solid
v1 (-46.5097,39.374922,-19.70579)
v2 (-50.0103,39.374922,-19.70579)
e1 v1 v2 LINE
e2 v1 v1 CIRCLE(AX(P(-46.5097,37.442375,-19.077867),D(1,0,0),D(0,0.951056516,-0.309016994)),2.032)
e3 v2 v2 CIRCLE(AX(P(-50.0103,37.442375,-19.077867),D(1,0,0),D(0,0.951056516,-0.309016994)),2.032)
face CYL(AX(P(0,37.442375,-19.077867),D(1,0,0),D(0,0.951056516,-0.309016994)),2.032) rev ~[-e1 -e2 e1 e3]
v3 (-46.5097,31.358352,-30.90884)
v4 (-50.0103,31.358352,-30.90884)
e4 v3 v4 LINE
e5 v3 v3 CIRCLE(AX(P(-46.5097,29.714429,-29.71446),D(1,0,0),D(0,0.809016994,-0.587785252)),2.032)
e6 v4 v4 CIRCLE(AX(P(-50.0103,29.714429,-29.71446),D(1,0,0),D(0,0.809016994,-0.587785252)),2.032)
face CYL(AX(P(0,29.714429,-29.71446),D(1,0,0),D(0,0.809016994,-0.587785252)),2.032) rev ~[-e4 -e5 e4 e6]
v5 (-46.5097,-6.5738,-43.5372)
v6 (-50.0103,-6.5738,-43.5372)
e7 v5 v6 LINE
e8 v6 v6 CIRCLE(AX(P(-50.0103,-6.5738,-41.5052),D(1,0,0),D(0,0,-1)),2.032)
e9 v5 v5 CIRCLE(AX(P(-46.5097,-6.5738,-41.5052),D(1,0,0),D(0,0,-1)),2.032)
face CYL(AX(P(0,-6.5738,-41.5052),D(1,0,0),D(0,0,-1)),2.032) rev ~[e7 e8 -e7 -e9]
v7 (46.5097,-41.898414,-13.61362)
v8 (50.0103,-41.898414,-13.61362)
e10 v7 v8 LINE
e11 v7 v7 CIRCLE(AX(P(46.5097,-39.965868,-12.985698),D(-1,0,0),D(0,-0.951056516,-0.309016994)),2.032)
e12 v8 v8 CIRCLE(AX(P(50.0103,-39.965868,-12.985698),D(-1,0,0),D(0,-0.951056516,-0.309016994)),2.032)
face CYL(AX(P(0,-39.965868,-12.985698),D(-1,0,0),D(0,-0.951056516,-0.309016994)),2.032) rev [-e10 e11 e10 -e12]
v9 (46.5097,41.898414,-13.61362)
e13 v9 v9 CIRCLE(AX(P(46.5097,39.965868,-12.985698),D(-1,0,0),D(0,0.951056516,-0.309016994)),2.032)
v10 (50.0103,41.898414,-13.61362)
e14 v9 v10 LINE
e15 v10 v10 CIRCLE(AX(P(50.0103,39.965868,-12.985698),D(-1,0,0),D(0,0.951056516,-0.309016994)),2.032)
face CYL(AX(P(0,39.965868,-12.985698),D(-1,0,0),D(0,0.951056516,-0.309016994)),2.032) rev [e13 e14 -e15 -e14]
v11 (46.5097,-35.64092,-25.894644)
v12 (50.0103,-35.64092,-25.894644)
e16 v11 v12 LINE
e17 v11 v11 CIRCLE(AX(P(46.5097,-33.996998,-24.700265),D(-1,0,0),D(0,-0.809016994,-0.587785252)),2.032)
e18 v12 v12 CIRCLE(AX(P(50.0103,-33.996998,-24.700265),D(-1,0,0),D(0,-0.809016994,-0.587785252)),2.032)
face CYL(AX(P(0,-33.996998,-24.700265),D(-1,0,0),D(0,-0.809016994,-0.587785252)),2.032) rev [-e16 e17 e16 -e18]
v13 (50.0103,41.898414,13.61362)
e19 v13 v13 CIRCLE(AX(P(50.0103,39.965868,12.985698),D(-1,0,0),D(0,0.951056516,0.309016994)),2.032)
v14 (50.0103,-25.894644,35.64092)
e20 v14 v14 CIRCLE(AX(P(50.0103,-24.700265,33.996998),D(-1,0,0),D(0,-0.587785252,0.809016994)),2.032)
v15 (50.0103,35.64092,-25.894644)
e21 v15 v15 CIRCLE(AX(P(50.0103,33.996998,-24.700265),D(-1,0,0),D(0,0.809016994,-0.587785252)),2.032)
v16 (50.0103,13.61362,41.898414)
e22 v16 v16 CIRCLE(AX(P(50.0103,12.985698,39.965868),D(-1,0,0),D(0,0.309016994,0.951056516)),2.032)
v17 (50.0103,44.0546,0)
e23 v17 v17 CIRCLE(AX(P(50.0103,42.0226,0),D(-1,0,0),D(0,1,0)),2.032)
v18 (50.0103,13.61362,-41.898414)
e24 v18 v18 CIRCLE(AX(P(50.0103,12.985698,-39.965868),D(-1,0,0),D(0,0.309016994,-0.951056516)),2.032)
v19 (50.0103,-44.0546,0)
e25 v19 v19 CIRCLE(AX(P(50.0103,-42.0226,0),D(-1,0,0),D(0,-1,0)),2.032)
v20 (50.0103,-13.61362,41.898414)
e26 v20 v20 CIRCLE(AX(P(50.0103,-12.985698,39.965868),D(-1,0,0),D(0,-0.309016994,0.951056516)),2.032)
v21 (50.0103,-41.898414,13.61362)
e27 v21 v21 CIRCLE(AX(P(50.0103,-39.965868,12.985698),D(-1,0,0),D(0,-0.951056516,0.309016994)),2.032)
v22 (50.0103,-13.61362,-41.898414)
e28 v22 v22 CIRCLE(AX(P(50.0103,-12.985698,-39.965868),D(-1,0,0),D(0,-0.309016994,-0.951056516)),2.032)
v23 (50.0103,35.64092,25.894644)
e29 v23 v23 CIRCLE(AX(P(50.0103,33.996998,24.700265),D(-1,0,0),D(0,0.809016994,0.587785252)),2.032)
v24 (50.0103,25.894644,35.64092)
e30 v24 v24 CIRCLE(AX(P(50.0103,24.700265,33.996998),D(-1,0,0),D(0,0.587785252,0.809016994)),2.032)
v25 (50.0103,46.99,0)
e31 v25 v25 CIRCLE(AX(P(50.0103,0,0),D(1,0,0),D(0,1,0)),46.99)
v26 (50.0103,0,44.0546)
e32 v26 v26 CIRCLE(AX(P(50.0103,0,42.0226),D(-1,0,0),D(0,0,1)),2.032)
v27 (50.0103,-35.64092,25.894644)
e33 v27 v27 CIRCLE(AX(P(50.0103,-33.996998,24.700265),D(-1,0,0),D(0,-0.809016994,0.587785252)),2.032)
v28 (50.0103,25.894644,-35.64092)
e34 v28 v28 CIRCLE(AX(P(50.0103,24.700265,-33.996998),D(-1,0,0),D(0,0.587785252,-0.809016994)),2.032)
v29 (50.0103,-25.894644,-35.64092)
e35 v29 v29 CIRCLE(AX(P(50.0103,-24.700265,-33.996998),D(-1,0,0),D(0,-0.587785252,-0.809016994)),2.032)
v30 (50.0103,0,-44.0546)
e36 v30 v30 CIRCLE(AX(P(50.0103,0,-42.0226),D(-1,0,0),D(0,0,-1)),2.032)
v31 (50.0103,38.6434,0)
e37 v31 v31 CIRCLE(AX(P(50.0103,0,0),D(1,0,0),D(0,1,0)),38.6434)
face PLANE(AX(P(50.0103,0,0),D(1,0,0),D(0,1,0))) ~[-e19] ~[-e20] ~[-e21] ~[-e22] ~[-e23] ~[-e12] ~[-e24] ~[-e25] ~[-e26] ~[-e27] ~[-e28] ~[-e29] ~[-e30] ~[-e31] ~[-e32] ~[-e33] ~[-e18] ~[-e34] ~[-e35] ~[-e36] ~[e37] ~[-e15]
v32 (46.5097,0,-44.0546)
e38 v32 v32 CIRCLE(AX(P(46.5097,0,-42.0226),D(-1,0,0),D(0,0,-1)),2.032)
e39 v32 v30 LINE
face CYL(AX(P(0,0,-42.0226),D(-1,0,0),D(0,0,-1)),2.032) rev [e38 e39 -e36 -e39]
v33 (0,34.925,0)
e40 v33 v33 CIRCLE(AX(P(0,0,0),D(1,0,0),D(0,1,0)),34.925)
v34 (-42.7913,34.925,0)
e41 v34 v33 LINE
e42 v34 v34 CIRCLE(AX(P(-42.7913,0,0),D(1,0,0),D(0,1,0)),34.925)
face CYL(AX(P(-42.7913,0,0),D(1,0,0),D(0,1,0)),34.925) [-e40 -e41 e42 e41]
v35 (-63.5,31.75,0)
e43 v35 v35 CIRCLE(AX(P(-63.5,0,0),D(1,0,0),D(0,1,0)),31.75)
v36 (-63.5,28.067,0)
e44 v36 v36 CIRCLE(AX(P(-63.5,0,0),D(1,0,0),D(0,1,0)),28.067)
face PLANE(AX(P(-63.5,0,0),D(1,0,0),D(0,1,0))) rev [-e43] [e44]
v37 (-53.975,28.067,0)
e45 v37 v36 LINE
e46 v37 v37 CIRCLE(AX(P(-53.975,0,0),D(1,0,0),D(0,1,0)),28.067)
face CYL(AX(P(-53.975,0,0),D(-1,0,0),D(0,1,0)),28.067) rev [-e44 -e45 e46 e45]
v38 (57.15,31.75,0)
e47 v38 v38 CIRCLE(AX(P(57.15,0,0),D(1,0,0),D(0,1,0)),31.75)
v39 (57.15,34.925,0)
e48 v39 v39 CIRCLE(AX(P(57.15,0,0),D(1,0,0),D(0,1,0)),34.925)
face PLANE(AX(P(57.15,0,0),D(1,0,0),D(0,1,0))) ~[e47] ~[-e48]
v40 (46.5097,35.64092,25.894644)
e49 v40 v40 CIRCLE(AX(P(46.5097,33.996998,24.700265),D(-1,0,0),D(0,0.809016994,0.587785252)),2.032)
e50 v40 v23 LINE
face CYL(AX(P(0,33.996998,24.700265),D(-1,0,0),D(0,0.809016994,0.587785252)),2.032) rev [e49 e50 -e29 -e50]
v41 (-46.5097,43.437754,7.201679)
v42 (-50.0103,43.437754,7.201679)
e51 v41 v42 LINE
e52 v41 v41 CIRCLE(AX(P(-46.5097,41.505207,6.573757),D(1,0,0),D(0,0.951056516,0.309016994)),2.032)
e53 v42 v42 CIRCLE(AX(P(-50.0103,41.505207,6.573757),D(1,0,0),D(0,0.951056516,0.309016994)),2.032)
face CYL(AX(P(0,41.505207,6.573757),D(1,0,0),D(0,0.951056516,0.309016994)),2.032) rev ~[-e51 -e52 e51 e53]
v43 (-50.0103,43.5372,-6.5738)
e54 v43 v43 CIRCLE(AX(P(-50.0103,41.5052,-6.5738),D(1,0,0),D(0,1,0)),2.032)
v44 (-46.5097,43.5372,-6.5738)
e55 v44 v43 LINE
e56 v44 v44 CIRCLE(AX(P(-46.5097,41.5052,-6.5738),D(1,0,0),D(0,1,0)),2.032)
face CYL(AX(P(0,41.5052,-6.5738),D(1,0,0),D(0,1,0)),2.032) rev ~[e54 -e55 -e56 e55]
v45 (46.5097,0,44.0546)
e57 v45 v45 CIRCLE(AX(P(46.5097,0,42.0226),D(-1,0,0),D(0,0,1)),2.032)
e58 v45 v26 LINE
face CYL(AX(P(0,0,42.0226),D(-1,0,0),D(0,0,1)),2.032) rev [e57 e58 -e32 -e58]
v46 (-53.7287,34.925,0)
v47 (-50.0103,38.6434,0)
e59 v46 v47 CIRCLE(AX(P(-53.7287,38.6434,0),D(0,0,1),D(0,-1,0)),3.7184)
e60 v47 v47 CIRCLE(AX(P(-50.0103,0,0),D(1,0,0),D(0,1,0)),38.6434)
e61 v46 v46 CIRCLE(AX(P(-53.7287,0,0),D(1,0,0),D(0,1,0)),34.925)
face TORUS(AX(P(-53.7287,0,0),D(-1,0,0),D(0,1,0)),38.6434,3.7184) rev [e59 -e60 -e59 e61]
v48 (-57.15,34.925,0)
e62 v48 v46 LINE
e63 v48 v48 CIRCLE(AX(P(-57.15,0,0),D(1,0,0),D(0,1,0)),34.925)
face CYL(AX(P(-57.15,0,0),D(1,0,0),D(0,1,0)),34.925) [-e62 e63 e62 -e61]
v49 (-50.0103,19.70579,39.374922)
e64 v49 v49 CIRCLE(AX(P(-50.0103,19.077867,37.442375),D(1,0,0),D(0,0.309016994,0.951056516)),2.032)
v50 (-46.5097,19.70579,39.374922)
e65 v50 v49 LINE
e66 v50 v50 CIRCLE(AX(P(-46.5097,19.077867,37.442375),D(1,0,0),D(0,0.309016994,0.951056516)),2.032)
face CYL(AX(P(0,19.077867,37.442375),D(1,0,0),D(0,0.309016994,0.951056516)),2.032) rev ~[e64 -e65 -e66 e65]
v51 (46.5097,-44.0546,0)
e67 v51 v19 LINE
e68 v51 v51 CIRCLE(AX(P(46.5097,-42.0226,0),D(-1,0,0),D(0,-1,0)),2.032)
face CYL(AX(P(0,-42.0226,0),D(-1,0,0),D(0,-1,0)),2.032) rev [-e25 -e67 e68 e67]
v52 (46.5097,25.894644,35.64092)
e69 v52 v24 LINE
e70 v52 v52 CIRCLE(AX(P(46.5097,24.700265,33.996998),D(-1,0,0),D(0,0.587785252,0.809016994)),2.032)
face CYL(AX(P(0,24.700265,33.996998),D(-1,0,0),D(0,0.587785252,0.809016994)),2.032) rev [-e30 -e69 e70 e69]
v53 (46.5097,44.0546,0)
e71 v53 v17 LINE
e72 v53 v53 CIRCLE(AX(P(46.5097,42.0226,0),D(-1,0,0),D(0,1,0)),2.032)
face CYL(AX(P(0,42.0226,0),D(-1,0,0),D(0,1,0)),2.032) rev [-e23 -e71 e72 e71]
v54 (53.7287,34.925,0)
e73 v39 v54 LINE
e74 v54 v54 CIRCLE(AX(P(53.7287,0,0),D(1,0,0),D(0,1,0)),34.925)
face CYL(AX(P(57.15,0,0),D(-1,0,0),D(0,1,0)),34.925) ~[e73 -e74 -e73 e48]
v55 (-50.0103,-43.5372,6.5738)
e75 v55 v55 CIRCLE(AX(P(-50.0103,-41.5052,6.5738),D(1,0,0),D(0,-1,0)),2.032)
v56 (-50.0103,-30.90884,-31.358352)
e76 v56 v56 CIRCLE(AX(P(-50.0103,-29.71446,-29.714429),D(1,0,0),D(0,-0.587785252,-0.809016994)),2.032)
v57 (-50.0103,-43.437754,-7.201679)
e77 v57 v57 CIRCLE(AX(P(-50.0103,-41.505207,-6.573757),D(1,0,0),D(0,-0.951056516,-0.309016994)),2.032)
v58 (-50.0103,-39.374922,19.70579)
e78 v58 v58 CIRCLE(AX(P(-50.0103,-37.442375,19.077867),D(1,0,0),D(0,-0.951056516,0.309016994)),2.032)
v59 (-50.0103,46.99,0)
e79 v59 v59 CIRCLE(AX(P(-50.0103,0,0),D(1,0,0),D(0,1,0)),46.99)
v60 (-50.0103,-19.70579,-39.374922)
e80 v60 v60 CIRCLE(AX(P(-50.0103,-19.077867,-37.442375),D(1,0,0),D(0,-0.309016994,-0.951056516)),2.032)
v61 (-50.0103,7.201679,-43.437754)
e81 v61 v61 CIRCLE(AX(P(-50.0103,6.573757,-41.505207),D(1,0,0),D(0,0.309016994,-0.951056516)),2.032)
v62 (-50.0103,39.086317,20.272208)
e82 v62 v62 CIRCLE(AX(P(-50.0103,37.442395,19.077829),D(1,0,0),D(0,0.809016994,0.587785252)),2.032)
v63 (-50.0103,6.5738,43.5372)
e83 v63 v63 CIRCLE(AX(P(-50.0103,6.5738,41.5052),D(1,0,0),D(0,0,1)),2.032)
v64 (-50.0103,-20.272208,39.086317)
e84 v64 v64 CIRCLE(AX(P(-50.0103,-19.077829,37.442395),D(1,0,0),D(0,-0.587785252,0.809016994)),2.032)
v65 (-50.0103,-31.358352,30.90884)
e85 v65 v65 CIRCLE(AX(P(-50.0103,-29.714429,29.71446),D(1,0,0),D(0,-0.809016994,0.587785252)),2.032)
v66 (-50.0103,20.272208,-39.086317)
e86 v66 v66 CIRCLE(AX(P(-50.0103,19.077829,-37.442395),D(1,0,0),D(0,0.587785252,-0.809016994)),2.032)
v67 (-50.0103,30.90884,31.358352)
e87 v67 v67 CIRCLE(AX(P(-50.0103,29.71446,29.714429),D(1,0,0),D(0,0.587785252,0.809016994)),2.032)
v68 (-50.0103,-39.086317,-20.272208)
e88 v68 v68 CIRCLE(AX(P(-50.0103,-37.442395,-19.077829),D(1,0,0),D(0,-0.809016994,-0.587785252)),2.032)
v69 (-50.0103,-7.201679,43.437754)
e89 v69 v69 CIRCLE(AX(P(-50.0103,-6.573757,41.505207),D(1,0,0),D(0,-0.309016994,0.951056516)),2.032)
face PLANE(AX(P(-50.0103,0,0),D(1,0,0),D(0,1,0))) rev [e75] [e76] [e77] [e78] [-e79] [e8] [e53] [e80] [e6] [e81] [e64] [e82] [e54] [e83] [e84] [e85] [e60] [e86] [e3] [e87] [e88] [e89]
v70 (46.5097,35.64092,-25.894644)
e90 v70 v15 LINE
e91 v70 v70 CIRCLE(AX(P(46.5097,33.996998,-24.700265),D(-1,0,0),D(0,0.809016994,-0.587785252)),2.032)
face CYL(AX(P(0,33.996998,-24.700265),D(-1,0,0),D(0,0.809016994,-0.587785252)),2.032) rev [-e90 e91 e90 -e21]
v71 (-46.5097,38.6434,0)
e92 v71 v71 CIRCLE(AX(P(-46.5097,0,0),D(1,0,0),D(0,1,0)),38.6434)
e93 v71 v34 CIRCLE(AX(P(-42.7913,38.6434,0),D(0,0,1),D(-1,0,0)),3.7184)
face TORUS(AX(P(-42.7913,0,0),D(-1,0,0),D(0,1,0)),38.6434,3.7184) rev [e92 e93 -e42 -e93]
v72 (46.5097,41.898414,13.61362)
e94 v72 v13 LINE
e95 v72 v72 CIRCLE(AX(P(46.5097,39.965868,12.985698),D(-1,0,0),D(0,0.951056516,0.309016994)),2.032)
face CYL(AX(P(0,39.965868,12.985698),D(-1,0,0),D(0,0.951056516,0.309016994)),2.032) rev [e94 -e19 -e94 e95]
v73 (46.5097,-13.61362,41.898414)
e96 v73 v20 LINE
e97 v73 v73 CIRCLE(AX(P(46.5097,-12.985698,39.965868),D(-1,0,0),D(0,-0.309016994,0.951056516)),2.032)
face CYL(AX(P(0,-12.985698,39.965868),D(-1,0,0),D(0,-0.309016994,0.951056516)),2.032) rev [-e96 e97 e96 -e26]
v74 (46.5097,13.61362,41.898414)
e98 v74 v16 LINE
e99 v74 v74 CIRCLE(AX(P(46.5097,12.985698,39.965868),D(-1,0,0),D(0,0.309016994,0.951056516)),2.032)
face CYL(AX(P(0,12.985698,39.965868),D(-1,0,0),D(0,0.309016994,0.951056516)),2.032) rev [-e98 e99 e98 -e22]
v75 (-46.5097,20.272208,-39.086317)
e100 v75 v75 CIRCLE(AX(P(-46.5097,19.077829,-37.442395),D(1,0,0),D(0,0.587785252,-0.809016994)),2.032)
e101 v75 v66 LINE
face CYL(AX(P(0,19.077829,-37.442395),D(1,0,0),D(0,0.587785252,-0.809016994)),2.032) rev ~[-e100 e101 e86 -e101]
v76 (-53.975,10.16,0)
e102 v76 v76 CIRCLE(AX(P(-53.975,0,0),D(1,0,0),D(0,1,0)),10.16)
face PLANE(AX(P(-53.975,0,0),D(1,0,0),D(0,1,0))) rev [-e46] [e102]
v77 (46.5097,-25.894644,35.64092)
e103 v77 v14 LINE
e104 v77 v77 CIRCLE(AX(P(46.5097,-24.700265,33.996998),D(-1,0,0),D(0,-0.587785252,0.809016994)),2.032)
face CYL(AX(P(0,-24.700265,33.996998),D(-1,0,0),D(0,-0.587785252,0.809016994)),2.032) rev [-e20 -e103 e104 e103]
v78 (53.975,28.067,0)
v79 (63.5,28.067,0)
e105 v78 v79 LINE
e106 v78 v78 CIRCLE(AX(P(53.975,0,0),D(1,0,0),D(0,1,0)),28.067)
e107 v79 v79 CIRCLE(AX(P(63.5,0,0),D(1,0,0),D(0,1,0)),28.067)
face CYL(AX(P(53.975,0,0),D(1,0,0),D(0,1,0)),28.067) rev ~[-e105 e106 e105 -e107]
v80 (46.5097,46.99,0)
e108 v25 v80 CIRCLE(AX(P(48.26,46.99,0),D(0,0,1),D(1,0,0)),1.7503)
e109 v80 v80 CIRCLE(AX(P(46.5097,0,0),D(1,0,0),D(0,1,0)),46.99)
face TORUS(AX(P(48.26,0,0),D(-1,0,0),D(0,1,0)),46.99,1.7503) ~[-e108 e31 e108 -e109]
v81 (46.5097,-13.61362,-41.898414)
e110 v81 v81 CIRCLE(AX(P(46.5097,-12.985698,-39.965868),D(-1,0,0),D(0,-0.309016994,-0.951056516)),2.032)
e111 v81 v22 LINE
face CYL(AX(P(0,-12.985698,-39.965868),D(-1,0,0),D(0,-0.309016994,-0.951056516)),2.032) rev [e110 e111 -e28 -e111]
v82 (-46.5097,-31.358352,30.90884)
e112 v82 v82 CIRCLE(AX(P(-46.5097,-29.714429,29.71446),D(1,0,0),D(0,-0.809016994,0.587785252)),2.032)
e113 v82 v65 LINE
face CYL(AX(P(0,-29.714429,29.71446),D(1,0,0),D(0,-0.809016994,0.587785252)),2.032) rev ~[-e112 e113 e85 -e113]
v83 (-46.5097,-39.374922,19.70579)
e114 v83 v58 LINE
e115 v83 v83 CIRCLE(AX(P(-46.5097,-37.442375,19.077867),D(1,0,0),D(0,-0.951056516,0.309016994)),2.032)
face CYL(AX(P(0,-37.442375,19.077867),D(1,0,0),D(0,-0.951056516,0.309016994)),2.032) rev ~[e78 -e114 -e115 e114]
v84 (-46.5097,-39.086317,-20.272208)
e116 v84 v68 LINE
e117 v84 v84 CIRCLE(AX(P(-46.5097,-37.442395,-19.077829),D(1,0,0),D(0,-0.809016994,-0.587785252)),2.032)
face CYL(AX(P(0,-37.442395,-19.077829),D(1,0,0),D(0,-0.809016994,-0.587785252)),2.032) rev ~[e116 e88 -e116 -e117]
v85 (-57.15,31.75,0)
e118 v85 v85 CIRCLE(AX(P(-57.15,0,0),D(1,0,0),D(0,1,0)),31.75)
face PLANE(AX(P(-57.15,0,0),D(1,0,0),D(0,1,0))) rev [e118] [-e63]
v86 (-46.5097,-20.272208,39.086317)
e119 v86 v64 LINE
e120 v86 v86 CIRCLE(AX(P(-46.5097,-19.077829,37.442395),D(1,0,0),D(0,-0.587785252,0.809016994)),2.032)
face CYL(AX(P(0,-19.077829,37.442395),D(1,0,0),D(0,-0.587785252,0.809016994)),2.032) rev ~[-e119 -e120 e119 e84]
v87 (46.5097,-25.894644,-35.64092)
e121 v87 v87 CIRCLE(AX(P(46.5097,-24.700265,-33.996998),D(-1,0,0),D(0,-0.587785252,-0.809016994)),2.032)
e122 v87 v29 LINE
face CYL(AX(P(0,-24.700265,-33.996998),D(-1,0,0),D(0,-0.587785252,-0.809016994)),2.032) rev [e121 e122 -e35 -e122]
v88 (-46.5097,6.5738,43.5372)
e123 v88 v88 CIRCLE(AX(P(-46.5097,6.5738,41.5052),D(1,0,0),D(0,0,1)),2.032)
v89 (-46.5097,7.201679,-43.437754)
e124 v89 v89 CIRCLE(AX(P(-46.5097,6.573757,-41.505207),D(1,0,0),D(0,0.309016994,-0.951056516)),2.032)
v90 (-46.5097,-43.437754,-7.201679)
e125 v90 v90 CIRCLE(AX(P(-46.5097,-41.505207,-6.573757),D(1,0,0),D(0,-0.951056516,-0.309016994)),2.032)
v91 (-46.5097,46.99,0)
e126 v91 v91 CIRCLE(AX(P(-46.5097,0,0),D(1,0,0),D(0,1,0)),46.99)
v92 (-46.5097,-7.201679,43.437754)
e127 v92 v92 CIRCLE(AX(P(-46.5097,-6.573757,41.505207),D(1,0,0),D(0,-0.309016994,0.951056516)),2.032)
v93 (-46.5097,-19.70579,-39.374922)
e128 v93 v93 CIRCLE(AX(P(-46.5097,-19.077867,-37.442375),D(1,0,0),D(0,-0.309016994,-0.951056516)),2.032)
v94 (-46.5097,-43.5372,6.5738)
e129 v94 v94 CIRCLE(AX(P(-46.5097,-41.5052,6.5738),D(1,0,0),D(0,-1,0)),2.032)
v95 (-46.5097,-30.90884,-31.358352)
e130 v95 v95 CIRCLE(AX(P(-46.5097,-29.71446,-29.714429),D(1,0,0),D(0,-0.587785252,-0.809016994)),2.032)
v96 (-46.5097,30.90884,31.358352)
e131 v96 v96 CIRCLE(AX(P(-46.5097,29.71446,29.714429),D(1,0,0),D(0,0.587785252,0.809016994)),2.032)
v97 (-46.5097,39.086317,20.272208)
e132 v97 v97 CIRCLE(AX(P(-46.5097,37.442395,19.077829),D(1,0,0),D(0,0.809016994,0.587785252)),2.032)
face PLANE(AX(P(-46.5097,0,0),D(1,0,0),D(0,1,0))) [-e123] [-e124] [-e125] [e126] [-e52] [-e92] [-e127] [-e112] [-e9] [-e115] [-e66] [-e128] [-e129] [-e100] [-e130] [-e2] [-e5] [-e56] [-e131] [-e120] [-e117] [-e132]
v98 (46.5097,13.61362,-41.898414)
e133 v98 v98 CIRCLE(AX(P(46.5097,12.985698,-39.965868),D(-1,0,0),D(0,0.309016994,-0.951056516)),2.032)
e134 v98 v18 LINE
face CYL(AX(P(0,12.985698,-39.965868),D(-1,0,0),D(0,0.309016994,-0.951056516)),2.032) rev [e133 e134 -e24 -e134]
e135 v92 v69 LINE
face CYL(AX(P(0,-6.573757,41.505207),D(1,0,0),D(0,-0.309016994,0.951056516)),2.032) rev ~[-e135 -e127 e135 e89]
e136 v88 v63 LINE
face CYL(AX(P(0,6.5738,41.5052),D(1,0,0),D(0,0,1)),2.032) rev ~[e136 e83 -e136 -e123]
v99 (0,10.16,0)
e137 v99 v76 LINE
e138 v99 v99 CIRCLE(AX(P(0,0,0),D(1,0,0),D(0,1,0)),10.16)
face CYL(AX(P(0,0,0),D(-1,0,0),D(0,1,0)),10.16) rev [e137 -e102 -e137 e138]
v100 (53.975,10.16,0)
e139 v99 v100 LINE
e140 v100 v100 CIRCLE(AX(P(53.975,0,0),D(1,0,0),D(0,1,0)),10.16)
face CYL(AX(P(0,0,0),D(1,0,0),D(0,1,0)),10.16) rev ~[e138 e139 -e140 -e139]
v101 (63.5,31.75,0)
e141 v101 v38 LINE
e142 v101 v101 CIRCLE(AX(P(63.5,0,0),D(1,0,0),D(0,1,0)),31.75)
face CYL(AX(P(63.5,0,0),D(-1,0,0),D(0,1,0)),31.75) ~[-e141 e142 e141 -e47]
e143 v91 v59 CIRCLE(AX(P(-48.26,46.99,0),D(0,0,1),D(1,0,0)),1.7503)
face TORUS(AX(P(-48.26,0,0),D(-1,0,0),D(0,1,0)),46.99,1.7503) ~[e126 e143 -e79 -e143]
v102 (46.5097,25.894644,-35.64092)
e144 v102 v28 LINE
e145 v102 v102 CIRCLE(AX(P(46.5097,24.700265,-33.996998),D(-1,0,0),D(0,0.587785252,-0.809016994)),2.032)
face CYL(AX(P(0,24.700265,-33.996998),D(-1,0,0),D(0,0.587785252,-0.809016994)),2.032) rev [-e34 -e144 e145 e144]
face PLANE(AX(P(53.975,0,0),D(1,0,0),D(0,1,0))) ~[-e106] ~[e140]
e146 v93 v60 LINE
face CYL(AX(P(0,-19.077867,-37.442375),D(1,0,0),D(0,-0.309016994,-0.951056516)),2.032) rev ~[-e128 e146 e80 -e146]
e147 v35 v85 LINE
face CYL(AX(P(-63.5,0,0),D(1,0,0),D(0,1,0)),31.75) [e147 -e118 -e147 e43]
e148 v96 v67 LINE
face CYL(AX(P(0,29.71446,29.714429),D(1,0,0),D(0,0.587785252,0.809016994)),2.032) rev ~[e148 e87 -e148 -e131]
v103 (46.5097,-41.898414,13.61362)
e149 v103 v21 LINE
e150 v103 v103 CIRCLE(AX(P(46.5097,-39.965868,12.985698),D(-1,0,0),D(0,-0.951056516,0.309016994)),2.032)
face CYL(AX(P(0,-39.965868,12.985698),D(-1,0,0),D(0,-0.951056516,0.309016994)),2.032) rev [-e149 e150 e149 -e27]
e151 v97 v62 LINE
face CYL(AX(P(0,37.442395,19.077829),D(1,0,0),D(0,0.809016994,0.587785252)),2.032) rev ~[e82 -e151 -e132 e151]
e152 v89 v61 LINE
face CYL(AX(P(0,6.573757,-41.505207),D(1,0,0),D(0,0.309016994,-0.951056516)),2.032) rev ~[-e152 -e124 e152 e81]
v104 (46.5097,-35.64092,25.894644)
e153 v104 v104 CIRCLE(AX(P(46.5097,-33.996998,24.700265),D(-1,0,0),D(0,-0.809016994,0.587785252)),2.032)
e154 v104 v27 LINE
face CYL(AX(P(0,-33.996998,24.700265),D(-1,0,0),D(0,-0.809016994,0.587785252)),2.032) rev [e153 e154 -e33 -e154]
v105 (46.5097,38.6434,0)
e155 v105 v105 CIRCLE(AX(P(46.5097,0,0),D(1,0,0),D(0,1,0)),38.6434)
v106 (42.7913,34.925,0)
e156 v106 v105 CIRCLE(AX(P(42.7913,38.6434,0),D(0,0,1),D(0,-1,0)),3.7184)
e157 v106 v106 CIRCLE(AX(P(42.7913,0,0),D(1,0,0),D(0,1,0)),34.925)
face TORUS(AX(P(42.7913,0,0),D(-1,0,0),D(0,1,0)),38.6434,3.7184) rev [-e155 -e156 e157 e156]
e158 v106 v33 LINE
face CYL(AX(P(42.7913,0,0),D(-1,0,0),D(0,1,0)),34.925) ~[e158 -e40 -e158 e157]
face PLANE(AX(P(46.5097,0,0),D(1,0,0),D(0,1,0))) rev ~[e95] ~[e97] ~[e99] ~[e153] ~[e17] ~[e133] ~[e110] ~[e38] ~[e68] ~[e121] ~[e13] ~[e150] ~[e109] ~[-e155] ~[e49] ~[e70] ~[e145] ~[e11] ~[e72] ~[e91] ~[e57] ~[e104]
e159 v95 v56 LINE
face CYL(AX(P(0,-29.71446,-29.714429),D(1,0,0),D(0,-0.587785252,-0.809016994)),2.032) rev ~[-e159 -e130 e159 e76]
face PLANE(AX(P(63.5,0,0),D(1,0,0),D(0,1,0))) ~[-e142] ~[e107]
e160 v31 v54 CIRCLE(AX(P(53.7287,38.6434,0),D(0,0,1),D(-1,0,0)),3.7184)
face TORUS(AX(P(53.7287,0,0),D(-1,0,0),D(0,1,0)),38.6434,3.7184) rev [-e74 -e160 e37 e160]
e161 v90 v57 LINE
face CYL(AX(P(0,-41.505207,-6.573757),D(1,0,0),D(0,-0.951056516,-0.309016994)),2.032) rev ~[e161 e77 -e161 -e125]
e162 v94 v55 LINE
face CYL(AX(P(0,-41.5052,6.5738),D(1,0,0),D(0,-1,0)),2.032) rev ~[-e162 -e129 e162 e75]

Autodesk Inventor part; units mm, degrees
ref_plane "YZ Plane" through (0, 0, 0) normal (1, 0, 0) x (0, 1, 0)
ref_plane "XZ Plane" through (0, 0, 0) normal (0, 1, 0) x (-1, 0, 0)
ref_plane "XY Plane" through (0, 0, 0) normal (0, 0, 1) x (1, 0, 0)
sketch "Sketch1" plane through (0, 0, 0) normal (0, 0, 1) x (1, 0, 0)
  line L0 (0, -9.7481) -> (0, 58.4884) projected
  line L1 (-88.9, 0) -> (88.9, 0) projected
  line L2 (0, 10.16) -> (53.975, 10.16)
  line L3 (53.975, 10.16) -> (53.975, 28.067)
  line L4 (53.975, 28.067) -> (63.5, 28.067)
  line L5 (63.5, 28.067) -> (63.5, 31.75)
  line L6 (63.5, 31.75) -> (57.15, 31.75)
  line L7 (57.15, 31.75) -> (57.15, 34.925)
  line L8 (57.15, 34.925) -> (53.7287, 34.925)
  arc A0 (50.0103, 38.6434) -> (53.7287, 34.925) centre (53.7287, 38.6434) ccw
  line L9 (50.0103, 38.6434) -> (50.0103, 46.99)
  arc A1 (50.0103, 46.99) -> (46.5097, 46.99) centre (48.26, 46.99) ccw
  line L10 (46.5097, 46.99) -> (46.5097, 38.6434)
  arc A2 (42.7913, 34.925) -> (46.5097, 38.6434) centre (42.7913, 38.6434) ccw
  line L11 (42.7913, 34.925) -> (0, 34.925)
  line L12 (0, 34.925) -> (0, 10.16)
  line L13 (0, 10.16) -> (-53.975, 10.16)
  line L14 (-53.975, 10.16) -> (-53.975, 28.067)
  line L15 (-53.975, 28.067) -> (-63.5, 28.067)
  line L16 (-63.5, 28.067) -> (-63.5, 31.75)
  line L17 (-63.5, 31.75) -> (-57.15, 31.75)
  line L18 (-57.15, 31.75) -> (-57.15, 34.925)
  line L19 (-57.15, 34.925) -> (-53.7287, 34.925)
  arc A3 (-53.7287, 34.925) -> (-50.0103, 38.6434) centre (-53.7287, 38.6434) ccw
  line L20 (-50.0103, 38.6434) -> (-50.0103, 46.99)
  arc A4 (-46.5097, 46.99) -> (-50.0103, 46.99) centre (-48.26, 46.99) ccw
  line L21 (-46.5097, 46.99) -> (-46.5097, 38.6434)
  arc A5 (-46.5097, 38.6434) -> (-42.7913, 34.925) centre (-42.7913, 38.6434) ccw
  line L22 (-42.7913, 34.925) -> (0, 34.925)
  line L23 (0, 34.925) -> (0, 10.16)
  point P0 (0, 0)
  dimension "d0" = 127
  dimension "d1" = 3.5007
  dimension "d2" = 3.7184
  dimension "d3" = 96.52
  dimension "d4" = 63.5
  dimension "d5" = 12.065
  dimension "d6" = 3.175
  dimension "d17" = 114.3
  dimension "d18" = 107.95
  dimension "d19" = 56.134
  dimension "d20" = 20.32
revolve "Revolution1" add sketch "Sketch1" angle 360 about axis through (-10, 0, 0) along (1, 0, 0)
sketch "Sketch2" plane through (0, 0, 0) normal (1, 0, 0) x (0, 1, 0)
  line L0 (-8.8109, 0) -> (52.8655, 0) projected
  line L1 (0, -10.7333) -> (0, 4.1596) projected
  line L2 (0, 0) -> (41.8909, 0)
  line L3 (0, 0) -> (41.5052, -6.5738)
  arc A0 (41.5052, -6.5738) -> (42.0226, 0) centre (0, 0) ccw
  circle A1 centre (42.0226, 0) radius 2.032
  circle A2 centre (41.5052, -6.5738) radius 2.032
  dimension "d8" = 9
  dimension "d9" = 4.064
extrude "Extrusion1" cut sketch "Sketch2" along normal through all contours L0 A1 | L0 A0 A1 | L0 A1 A0
extrude "Extrusion2" cut sketch "Sketch2" against normal through all contours A2 L3 A0 | A0 L3 A2
pattern_circular "Circular Pattern1" count 20 over 360 about axis through (21.3956, 0, 0) along (1, 0, 0) of "Extrusion2", "Extrusion1"
properties part number "RearHub"
